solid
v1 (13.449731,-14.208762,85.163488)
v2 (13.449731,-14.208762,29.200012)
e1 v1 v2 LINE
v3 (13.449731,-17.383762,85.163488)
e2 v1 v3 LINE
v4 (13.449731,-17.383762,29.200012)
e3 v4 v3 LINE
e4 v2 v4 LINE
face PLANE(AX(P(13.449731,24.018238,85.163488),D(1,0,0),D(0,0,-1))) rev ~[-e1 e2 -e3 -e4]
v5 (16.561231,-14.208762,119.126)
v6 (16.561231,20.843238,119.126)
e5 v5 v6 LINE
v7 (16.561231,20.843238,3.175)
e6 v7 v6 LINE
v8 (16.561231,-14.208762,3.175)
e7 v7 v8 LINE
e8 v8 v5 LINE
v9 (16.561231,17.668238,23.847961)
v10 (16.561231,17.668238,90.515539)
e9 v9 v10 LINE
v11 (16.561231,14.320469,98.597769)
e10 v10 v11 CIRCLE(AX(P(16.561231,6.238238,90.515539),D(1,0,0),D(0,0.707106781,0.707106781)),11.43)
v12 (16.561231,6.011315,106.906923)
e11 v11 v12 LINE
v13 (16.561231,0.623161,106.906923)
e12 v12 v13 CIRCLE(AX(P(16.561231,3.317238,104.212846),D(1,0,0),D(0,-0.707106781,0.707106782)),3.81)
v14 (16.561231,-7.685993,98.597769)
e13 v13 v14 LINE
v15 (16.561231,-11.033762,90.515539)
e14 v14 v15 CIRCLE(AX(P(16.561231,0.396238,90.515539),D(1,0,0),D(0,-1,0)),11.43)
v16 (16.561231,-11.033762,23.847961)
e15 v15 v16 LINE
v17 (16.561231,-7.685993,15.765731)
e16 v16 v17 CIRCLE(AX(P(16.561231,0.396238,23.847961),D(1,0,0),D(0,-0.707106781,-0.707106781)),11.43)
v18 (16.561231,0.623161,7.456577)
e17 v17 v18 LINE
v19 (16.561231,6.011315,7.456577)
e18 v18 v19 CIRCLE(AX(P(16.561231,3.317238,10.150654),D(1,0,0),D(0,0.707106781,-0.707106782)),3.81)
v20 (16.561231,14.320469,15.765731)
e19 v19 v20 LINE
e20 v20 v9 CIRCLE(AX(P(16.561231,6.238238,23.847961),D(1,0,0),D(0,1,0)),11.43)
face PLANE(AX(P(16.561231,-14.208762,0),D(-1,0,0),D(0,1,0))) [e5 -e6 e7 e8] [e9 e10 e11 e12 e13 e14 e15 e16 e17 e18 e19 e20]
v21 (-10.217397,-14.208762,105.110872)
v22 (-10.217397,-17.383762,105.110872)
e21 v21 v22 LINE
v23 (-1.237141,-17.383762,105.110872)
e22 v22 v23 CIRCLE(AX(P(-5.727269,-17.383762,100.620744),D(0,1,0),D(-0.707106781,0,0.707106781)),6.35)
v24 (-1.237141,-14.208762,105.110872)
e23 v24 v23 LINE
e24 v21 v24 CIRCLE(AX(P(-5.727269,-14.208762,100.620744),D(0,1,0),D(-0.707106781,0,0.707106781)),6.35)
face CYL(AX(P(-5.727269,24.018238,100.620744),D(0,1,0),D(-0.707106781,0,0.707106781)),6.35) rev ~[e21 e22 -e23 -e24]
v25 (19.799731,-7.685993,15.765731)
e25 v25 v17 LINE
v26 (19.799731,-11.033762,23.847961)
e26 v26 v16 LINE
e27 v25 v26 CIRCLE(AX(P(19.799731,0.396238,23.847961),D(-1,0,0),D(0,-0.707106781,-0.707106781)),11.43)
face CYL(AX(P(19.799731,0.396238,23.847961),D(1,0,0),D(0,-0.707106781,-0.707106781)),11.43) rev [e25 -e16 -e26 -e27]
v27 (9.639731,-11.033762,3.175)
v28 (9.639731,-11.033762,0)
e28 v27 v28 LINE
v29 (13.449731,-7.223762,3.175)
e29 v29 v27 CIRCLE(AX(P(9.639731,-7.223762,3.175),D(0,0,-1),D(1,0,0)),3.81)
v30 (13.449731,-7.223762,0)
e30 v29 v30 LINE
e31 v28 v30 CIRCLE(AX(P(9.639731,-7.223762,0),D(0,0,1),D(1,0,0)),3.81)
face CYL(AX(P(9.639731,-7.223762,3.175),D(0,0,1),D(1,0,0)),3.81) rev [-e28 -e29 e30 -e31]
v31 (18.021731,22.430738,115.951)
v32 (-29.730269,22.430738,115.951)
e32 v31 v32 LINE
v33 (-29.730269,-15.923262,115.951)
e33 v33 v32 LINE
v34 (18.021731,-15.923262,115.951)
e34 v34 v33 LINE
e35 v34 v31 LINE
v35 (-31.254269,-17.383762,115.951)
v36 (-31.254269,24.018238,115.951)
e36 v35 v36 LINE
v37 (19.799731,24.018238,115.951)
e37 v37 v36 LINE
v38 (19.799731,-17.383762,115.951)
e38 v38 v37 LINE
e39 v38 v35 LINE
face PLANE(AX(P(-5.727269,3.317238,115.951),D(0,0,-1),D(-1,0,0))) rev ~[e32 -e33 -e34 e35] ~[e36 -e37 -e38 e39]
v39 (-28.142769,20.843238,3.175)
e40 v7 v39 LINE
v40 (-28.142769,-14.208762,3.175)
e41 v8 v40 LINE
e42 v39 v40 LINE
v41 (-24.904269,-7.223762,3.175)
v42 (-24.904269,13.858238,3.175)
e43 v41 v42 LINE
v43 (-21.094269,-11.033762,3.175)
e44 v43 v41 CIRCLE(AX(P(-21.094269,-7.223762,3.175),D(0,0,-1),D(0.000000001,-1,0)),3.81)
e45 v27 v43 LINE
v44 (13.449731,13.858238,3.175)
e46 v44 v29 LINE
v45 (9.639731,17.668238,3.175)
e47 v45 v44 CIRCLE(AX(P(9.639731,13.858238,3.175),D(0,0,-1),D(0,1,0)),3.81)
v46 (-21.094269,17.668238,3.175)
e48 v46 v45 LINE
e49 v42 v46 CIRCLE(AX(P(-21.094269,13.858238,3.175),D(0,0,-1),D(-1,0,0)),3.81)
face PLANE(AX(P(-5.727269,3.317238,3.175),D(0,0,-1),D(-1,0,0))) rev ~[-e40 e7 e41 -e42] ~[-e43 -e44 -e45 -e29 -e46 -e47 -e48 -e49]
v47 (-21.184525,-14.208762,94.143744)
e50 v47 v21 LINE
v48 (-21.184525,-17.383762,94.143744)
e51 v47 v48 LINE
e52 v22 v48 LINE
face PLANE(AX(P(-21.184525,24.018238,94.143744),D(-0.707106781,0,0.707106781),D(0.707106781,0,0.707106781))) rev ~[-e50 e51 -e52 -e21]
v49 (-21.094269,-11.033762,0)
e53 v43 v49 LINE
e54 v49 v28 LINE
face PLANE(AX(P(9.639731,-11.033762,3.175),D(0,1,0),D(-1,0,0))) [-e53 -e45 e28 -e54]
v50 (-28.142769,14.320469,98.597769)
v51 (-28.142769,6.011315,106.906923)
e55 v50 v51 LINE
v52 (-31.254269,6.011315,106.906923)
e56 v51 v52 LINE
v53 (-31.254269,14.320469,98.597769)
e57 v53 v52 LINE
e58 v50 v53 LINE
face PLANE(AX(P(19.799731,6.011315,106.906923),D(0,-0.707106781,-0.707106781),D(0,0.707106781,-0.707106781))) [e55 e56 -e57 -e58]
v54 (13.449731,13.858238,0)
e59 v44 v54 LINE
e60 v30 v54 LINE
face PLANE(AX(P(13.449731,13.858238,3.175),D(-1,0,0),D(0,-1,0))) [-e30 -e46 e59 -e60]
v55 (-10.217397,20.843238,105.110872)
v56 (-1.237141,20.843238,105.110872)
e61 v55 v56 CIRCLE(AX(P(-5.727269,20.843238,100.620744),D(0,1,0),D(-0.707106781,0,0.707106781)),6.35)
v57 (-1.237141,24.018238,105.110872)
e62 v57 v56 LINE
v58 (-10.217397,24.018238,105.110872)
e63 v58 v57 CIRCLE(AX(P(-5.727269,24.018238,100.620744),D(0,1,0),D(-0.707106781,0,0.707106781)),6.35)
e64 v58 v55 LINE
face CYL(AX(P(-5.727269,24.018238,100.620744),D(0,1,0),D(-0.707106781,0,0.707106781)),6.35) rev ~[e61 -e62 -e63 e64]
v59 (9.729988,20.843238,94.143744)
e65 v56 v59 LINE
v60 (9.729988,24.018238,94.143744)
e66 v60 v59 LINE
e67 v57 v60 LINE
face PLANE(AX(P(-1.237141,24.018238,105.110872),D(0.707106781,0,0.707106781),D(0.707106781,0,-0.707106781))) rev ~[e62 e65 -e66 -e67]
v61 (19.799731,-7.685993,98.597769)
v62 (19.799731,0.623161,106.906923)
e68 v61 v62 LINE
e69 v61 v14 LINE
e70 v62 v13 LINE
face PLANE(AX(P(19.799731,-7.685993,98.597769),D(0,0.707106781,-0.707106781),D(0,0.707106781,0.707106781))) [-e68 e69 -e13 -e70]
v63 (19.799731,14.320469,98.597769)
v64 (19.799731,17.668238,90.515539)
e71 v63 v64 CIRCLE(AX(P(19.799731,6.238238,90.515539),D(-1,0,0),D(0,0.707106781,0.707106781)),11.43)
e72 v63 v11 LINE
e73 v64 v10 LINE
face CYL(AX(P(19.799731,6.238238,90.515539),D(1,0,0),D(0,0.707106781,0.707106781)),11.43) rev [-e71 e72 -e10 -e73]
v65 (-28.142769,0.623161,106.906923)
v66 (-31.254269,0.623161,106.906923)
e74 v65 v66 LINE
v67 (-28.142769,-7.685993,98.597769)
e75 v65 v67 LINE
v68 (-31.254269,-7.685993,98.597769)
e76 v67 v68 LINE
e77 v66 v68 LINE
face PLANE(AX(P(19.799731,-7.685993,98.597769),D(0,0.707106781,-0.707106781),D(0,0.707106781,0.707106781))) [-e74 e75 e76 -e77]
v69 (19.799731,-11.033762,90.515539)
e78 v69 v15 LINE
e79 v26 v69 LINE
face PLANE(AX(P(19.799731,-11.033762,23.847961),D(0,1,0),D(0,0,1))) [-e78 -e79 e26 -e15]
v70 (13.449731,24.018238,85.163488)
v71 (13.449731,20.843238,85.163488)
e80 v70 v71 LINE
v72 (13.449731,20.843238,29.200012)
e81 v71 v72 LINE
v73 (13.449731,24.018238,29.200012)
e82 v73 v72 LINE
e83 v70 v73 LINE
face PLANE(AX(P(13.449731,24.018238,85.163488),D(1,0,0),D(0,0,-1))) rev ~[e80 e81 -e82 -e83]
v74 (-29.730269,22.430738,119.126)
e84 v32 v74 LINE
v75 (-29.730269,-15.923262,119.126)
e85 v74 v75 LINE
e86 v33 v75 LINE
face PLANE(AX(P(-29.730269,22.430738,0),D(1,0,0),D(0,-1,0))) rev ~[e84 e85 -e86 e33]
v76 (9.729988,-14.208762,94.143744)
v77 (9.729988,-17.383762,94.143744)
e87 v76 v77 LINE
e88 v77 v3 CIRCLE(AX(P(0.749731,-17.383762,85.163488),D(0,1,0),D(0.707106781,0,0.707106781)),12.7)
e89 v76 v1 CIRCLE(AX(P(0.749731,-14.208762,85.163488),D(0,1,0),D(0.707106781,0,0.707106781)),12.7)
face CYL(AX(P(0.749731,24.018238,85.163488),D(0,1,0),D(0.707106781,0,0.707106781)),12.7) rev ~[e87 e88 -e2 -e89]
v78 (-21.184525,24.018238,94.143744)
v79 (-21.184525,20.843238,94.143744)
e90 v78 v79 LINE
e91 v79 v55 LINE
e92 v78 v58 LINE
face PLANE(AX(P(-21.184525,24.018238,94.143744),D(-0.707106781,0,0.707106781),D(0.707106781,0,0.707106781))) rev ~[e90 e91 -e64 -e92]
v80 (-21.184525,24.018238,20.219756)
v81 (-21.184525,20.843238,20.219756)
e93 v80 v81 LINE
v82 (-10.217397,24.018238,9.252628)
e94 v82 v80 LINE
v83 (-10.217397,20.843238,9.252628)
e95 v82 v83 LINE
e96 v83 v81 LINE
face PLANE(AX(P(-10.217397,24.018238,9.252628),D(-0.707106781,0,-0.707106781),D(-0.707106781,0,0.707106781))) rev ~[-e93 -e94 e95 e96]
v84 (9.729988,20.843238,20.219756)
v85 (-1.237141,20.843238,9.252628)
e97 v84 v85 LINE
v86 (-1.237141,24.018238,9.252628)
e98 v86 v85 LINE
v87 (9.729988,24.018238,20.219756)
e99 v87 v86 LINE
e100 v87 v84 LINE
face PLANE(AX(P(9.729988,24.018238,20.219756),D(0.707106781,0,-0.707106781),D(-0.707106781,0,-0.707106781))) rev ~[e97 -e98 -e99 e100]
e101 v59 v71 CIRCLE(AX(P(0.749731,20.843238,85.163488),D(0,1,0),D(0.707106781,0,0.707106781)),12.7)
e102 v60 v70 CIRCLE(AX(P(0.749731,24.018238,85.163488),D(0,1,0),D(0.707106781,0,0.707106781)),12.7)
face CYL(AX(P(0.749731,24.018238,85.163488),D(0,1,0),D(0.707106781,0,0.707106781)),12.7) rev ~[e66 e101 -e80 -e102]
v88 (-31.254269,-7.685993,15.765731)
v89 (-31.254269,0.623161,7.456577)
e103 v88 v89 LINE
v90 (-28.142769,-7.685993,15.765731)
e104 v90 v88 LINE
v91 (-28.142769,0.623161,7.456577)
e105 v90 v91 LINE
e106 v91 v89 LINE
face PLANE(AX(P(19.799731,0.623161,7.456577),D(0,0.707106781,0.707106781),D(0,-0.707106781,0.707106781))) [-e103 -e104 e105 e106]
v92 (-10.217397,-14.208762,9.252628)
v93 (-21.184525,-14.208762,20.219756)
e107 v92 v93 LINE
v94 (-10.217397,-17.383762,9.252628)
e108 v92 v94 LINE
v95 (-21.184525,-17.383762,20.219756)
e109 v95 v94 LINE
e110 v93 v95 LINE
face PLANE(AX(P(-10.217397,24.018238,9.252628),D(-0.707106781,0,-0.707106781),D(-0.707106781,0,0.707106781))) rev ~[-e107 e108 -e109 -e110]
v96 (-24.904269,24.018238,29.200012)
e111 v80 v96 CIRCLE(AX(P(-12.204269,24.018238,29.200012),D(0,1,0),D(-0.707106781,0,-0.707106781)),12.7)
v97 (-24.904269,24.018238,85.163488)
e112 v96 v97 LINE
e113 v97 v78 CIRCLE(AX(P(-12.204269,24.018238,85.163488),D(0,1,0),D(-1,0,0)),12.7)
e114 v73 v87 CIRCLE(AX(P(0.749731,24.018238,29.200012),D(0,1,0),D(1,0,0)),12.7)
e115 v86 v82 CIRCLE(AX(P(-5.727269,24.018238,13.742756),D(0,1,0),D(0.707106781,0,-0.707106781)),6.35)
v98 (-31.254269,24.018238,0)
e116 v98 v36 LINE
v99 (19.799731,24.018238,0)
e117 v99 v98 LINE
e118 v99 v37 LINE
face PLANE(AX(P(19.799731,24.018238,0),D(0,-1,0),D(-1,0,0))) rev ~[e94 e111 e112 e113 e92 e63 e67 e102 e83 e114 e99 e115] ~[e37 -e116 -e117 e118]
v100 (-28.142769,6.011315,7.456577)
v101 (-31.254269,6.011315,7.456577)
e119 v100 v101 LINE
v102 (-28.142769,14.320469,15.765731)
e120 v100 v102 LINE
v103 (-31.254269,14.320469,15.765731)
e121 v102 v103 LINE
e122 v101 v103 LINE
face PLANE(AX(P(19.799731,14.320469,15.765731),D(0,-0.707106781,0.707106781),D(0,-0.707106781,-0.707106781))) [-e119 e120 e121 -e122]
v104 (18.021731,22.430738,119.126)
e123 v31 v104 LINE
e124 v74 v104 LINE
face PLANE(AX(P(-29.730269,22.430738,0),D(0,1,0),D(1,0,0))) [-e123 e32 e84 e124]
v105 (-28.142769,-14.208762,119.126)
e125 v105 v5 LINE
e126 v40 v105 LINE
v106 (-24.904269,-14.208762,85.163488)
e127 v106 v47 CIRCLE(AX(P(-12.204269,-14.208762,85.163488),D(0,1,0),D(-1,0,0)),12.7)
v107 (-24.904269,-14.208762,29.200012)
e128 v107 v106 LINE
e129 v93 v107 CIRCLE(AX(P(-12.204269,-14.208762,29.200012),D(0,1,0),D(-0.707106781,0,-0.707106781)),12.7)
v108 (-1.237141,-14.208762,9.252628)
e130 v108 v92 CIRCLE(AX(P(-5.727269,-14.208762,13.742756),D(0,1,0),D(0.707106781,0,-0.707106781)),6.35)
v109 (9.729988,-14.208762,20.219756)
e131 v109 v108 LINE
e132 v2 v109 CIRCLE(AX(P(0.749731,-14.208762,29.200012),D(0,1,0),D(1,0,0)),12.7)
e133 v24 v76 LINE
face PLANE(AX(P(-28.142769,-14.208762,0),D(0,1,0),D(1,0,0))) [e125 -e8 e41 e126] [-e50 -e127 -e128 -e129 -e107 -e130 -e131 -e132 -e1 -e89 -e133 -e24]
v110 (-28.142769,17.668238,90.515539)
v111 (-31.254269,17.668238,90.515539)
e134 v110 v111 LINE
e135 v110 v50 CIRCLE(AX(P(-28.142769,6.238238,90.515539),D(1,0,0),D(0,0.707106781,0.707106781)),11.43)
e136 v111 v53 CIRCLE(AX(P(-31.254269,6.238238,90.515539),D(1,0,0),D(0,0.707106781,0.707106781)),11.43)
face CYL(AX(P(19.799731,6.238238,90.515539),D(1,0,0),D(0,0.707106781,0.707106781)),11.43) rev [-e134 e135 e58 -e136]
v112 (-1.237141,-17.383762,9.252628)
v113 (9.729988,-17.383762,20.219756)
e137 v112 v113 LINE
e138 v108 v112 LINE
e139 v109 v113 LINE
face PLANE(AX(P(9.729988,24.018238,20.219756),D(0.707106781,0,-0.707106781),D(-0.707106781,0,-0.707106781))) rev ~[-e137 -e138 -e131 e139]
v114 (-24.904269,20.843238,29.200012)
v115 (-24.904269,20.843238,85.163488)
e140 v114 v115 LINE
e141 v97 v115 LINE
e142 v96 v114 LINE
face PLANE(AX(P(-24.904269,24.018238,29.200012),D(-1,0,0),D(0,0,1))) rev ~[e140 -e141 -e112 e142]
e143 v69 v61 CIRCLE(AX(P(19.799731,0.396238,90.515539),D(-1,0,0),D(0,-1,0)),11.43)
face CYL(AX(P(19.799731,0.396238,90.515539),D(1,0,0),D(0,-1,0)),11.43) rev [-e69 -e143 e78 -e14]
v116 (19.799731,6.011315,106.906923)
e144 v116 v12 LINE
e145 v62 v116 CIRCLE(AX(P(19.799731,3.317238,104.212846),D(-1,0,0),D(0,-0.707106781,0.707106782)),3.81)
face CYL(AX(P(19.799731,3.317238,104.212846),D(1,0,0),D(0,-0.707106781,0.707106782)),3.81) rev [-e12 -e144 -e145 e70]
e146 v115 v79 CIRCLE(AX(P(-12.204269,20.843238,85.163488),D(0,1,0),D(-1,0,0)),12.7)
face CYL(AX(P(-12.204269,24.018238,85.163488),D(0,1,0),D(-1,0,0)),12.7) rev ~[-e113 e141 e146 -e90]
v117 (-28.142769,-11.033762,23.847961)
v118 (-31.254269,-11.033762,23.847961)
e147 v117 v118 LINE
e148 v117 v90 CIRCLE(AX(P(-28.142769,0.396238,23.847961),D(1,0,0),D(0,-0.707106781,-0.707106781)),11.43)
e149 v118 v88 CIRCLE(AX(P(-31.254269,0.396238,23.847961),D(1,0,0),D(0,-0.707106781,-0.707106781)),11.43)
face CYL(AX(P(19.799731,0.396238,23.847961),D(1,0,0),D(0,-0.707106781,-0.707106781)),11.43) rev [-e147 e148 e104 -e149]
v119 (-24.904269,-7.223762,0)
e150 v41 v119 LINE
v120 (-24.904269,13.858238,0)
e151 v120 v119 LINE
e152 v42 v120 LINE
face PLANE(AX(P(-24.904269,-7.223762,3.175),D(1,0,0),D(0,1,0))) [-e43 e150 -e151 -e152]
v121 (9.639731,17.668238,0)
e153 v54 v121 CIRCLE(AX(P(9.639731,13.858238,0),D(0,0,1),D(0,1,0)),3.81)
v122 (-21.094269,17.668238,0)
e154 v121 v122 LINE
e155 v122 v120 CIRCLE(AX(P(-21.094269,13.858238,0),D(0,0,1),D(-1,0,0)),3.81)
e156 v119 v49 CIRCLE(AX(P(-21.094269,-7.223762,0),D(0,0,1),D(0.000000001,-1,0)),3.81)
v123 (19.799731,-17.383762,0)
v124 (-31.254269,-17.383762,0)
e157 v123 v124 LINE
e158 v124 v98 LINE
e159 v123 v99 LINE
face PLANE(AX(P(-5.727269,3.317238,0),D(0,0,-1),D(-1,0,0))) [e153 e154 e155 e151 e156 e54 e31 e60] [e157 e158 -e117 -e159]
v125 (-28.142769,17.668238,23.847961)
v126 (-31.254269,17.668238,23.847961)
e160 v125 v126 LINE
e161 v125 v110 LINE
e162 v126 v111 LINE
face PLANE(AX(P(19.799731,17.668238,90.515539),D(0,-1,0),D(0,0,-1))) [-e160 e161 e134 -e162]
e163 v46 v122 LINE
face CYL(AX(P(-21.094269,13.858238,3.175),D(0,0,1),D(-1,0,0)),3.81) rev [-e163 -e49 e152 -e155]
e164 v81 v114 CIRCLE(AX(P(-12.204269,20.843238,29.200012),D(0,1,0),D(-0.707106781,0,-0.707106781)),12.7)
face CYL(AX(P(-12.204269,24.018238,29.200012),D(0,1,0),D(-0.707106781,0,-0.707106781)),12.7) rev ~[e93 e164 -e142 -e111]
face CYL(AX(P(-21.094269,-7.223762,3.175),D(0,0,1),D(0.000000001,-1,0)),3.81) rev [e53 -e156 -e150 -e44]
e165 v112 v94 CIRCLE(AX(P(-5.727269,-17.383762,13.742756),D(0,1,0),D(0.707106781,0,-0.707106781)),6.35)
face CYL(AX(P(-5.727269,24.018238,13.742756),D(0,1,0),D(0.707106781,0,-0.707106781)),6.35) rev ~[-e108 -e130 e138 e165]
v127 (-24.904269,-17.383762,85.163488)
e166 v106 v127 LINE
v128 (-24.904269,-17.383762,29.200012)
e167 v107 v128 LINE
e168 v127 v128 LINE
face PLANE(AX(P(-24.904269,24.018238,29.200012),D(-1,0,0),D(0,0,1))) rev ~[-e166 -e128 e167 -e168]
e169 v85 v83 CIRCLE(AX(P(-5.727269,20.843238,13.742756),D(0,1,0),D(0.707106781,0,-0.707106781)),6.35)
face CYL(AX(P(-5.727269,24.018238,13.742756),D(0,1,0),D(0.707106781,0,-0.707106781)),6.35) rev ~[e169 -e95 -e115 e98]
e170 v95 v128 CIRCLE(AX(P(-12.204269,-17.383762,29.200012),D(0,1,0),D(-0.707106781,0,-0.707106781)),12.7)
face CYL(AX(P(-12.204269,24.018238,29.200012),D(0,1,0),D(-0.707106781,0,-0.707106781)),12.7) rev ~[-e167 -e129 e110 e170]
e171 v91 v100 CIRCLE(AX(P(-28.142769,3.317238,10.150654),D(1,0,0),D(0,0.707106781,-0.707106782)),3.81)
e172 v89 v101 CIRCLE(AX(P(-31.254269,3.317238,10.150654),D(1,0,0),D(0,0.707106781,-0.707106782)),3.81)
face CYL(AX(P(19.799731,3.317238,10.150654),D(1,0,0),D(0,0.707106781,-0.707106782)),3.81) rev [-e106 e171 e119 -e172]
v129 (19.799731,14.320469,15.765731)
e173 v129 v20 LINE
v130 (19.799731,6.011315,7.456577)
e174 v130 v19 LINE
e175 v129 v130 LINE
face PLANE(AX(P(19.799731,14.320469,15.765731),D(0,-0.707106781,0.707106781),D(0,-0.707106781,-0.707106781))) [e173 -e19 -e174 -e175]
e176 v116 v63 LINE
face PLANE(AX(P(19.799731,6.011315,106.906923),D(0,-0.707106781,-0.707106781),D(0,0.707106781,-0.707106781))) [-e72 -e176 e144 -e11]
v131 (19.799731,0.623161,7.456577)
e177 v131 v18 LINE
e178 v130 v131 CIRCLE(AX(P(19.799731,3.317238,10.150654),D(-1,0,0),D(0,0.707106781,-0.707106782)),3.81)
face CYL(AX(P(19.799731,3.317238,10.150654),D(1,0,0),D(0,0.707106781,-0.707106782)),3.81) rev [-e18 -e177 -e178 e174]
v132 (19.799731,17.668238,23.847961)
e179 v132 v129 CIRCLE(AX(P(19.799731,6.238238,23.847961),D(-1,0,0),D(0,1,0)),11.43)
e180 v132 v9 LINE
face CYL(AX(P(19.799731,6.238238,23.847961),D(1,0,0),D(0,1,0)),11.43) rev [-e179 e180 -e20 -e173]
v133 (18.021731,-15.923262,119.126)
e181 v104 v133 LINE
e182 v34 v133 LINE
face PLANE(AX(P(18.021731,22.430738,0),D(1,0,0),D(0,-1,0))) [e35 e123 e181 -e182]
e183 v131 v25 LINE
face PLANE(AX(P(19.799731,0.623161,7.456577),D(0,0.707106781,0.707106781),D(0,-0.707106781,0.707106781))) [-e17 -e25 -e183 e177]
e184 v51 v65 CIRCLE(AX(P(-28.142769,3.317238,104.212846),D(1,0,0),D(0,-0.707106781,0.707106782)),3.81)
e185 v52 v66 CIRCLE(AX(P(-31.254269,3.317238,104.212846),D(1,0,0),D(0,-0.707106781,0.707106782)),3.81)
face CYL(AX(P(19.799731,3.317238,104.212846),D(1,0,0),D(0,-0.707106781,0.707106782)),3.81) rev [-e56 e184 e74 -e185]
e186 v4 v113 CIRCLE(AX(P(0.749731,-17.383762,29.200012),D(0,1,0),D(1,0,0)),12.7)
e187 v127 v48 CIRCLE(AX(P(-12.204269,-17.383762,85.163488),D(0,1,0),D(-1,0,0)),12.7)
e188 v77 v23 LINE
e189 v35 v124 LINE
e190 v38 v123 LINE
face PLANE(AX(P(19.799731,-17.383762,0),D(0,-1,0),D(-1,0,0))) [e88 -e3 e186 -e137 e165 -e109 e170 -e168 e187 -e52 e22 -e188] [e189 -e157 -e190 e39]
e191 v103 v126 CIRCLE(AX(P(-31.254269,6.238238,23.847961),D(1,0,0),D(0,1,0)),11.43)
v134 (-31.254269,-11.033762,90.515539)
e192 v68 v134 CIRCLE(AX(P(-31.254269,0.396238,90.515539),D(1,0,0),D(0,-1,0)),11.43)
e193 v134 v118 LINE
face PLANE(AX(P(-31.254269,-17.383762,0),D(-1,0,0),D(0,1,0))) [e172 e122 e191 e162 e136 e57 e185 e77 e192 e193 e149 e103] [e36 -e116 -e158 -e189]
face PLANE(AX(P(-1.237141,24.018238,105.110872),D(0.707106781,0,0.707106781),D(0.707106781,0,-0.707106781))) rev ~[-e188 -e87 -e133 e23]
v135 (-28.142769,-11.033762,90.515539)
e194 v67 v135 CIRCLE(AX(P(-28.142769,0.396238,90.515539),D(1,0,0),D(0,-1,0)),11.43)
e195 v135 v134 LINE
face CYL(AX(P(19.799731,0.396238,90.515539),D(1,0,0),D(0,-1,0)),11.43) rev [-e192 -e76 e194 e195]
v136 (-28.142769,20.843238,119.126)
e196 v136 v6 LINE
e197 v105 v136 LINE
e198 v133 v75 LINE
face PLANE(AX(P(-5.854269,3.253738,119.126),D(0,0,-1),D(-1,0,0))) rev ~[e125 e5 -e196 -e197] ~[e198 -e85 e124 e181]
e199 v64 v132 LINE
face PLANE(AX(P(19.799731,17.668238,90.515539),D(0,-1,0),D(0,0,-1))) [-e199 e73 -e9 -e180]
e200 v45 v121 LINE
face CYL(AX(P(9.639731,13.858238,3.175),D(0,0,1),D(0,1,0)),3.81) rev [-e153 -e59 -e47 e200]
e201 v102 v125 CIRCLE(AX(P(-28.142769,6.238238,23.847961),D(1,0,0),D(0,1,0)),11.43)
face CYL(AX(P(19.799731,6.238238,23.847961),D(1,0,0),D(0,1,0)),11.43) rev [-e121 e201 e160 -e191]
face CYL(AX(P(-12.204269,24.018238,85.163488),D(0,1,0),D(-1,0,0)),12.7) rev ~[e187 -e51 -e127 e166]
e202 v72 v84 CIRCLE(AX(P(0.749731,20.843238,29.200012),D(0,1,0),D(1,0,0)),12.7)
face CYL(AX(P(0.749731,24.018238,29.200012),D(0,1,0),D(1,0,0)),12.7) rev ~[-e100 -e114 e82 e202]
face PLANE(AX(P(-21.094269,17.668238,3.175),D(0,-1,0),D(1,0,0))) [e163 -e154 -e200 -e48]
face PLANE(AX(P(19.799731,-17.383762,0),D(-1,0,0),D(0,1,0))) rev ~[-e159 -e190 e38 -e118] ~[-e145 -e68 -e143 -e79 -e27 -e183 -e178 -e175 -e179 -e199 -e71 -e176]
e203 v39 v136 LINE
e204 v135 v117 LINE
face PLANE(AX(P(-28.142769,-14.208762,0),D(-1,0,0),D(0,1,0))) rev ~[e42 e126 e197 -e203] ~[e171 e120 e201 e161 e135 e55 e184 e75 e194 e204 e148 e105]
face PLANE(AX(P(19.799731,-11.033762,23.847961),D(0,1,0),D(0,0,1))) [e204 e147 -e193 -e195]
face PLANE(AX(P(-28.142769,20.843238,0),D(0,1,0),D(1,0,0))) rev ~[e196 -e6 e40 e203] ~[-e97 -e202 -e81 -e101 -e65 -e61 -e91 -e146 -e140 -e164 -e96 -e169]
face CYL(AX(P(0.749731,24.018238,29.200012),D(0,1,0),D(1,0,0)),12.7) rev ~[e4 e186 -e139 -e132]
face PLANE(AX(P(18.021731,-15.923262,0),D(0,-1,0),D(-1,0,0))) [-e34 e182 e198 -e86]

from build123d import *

# Parameters (mm, degrees)
SKETCH2_W           = 44.704
SKETCH2_H           = 35.052
BOSS_EXTRUDE1_DEPTH = 119.126
SKETCH4_W           = 51.054
SKETCH4_H           = 41.402
SKETCH4_W_2         = 47.752
SKETCH4_H_2         = 38.354
BOSS_EXTRUDE2_DEPTH = 115.951
SKETCH5_W           = 51.054
SKETCH5_H           = 41.402
BOSS_EXTRUDE3_DEPTH = 3.175
CUT_EXTRUDE1_DEPTH  = 6.35
CUT_EXTRUDE2_DEPTH  = 132.811951465
CUT_EXTRUDE3_DEPTH  = 130.93059219


with BuildPart() as part:
    # Sketch2 → Boss-Extrude1 (new body)
    with BuildSketch(Plane.XY):
        Polygon((-29.730268616, 22.430738007), (18.021731384, 22.430738007), (18.021731384, -15.923261993), (-29.730268616, -15.923261993), (-29.730268616, -15.068411042), align=None)
        with Locations((-5.790768616, 3.317238007)):
            Rectangle(SKETCH2_W, SKETCH2_H, mode=Mode.SUBTRACT)
    extrude(amount=BOSS_EXTRUDE1_DEPTH)

    # Sketch4 → Boss-Extrude2 (add)
    with BuildSketch(Plane(origin=(0, 0, 0), x_dir=(-1, 0, 0), z_dir=(0, 0, -1))):
        with Locations((5.727268616, 3.317238007)):
            Rectangle(SKETCH4_W, SKETCH4_H)
        with Locations((5.854268616, 3.253738007)):
            Rectangle(SKETCH4_W_2, SKETCH4_H_2, mode=Mode.SUBTRACT)
    extrude(amount=-BOSS_EXTRUDE2_DEPTH)

    # Sketch5 → Boss-Extrude3 (add)
    with BuildSketch(Plane(origin=(0, 0, 0), x_dir=(-1, 0, 0), z_dir=(0, 0, -1))):
        with Locations((5.727268616, 3.317238007)):
            Rectangle(SKETCH5_W, SKETCH5_H)
    extrude(amount=-BOSS_EXTRUDE3_DEPTH)

    # Sketch6 → Cut-Extrude1 (cut)
    with BuildSketch(Plane.XY.offset(3.175)):
        with BuildLine():
            Line((-21.094268616, 17.668238007), (9.639731384, 17.668238007))
            ThreePointArc((9.639731384, 17.668238007), (12.33380822, 16.552314843), (13.449731384, 13.858238007))
            Line((13.449731384, 13.858238007), (13.449731384, -7.223761993))
            ThreePointArc((13.449731384, -7.223761993), (12.33380822, -9.91783883), (9.639731384, -11.033761993))
            Line((9.639731384, -11.033761993), (-21.094268616, -11.033761993))
            ThreePointArc((-21.094268616, -11.033761993), (-23.788345453, -9.91783883), (-24.904268616, -7.223761993))
            Line((-24.904268616, -7.223761993), (-24.904268616, 13.858238007))
            ThreePointArc((-24.904268616, 13.858238007), (-23.788345453, 16.552314843), (-21.094268616, 17.668238007))
        make_face()
    extrude(amount=-CUT_EXTRUDE1_DEPTH, mode=Mode.SUBTRACT)

    # Sketch7 → Cut-Extrude2 (cut, through all)
    with BuildSketch(Plane.ZY.offset(-19.799731384)):
        with BuildLine():
            Line((23.847961018, -11.033761993), (90.515538982, -11.033761993))
            ThreePointArc((90.515538982, -11.033761993), (94.889610614, -10.16370505), (98.597769491, -7.685992502))
            Line((98.597769491, -7.685992502), (106.906923164, 0.62316117))
            ThreePointArc((106.906923164, 0.62316117), (108.022846327, 3.317238007), (106.906923164, 6.011314843))
            Line((106.906923164, 6.011314843), (98.597769491, 14.320468515))
            ThreePointArc((98.597769491, 14.320468515), (94.889610614, 16.798181063), (90.515538982, 17.668238007))
            Line((90.515538982, 17.668238007), (23.847961018, 17.668238007))
            ThreePointArc((23.847961018, 17.668238007), (19.473889386, 16.798181063), (15.765730509, 14.320468515))
            Line((15.765730509, 14.320468515), (7.456576836, 6.011314843))
            ThreePointArc((7.456576836, 6.011314843), (6.340653673, 3.317238007), (7.456576836, 0.62316117))
            Line((7.456576836, 0.62316117), (15.765730509, -7.685992502))
            ThreePointArc((15.765730509, -7.685992502), (19.473889386, -10.16370505), (23.847961018, -11.033761993))
        make_face()
    extrude(amount=CUT_EXTRUDE2_DEPTH, mode=Mode.SUBTRACT)

    # Sketch8 → Cut-Extrude3 (cut, through all)
    with BuildSketch(Plane(origin=(0, 24.018238007, 0), x_dir=(1, 0, 0), z_dir=(0, 1, 0))):
        with BuildLine():
            Line((9.729987505, -20.219756121), (-1.237140556, -9.252628061))
            ThreePointArc((-1.237140556, -9.252628061), (-5.727268616, -7.392756121), (-10.217396677, -9.252628061))
            Line((-10.217396677, -9.252628061), (-21.184524737, -20.219756121))
            ThreePointArc((-21.184524737, -20.219756121), (-23.937538679, -24.339932651), (-24.904268616, -29.200012242))
            Line((-24.904268616, -29.200012242), (-24.904268616, -85.163487758))
            ThreePointArc((-24.904268616, -85.163487758), (-23.937538679, -90.023567349), (-21.184524737, -94.143743879))
            Line((-21.184524737, -94.143743879), (-10.217396677, -105.110871939))
            ThreePointArc((-10.217396677, -105.110871939), (-5.727268616, -106.970743879), (-1.237140556, -105.110871939))
            Line((-1.237140556, -105.110871939), (9.729987505, -94.143743879))
            ThreePointArc((9.729987505, -94.143743879), (12.483001447, -90.023567349), (13.449731384, -85.163487758))
            Line((13.449731384, -85.163487758), (13.449731384, -29.200012242))
            ThreePointArc((13.449731384, -29.200012242), (12.483001447, -24.339932651), (9.729987505, -20.219756121))
        make_face()
    extrude(amount=-CUT_EXTRUDE3_DEPTH, mode=Mode.SUBTRACT)


solid = part.part
